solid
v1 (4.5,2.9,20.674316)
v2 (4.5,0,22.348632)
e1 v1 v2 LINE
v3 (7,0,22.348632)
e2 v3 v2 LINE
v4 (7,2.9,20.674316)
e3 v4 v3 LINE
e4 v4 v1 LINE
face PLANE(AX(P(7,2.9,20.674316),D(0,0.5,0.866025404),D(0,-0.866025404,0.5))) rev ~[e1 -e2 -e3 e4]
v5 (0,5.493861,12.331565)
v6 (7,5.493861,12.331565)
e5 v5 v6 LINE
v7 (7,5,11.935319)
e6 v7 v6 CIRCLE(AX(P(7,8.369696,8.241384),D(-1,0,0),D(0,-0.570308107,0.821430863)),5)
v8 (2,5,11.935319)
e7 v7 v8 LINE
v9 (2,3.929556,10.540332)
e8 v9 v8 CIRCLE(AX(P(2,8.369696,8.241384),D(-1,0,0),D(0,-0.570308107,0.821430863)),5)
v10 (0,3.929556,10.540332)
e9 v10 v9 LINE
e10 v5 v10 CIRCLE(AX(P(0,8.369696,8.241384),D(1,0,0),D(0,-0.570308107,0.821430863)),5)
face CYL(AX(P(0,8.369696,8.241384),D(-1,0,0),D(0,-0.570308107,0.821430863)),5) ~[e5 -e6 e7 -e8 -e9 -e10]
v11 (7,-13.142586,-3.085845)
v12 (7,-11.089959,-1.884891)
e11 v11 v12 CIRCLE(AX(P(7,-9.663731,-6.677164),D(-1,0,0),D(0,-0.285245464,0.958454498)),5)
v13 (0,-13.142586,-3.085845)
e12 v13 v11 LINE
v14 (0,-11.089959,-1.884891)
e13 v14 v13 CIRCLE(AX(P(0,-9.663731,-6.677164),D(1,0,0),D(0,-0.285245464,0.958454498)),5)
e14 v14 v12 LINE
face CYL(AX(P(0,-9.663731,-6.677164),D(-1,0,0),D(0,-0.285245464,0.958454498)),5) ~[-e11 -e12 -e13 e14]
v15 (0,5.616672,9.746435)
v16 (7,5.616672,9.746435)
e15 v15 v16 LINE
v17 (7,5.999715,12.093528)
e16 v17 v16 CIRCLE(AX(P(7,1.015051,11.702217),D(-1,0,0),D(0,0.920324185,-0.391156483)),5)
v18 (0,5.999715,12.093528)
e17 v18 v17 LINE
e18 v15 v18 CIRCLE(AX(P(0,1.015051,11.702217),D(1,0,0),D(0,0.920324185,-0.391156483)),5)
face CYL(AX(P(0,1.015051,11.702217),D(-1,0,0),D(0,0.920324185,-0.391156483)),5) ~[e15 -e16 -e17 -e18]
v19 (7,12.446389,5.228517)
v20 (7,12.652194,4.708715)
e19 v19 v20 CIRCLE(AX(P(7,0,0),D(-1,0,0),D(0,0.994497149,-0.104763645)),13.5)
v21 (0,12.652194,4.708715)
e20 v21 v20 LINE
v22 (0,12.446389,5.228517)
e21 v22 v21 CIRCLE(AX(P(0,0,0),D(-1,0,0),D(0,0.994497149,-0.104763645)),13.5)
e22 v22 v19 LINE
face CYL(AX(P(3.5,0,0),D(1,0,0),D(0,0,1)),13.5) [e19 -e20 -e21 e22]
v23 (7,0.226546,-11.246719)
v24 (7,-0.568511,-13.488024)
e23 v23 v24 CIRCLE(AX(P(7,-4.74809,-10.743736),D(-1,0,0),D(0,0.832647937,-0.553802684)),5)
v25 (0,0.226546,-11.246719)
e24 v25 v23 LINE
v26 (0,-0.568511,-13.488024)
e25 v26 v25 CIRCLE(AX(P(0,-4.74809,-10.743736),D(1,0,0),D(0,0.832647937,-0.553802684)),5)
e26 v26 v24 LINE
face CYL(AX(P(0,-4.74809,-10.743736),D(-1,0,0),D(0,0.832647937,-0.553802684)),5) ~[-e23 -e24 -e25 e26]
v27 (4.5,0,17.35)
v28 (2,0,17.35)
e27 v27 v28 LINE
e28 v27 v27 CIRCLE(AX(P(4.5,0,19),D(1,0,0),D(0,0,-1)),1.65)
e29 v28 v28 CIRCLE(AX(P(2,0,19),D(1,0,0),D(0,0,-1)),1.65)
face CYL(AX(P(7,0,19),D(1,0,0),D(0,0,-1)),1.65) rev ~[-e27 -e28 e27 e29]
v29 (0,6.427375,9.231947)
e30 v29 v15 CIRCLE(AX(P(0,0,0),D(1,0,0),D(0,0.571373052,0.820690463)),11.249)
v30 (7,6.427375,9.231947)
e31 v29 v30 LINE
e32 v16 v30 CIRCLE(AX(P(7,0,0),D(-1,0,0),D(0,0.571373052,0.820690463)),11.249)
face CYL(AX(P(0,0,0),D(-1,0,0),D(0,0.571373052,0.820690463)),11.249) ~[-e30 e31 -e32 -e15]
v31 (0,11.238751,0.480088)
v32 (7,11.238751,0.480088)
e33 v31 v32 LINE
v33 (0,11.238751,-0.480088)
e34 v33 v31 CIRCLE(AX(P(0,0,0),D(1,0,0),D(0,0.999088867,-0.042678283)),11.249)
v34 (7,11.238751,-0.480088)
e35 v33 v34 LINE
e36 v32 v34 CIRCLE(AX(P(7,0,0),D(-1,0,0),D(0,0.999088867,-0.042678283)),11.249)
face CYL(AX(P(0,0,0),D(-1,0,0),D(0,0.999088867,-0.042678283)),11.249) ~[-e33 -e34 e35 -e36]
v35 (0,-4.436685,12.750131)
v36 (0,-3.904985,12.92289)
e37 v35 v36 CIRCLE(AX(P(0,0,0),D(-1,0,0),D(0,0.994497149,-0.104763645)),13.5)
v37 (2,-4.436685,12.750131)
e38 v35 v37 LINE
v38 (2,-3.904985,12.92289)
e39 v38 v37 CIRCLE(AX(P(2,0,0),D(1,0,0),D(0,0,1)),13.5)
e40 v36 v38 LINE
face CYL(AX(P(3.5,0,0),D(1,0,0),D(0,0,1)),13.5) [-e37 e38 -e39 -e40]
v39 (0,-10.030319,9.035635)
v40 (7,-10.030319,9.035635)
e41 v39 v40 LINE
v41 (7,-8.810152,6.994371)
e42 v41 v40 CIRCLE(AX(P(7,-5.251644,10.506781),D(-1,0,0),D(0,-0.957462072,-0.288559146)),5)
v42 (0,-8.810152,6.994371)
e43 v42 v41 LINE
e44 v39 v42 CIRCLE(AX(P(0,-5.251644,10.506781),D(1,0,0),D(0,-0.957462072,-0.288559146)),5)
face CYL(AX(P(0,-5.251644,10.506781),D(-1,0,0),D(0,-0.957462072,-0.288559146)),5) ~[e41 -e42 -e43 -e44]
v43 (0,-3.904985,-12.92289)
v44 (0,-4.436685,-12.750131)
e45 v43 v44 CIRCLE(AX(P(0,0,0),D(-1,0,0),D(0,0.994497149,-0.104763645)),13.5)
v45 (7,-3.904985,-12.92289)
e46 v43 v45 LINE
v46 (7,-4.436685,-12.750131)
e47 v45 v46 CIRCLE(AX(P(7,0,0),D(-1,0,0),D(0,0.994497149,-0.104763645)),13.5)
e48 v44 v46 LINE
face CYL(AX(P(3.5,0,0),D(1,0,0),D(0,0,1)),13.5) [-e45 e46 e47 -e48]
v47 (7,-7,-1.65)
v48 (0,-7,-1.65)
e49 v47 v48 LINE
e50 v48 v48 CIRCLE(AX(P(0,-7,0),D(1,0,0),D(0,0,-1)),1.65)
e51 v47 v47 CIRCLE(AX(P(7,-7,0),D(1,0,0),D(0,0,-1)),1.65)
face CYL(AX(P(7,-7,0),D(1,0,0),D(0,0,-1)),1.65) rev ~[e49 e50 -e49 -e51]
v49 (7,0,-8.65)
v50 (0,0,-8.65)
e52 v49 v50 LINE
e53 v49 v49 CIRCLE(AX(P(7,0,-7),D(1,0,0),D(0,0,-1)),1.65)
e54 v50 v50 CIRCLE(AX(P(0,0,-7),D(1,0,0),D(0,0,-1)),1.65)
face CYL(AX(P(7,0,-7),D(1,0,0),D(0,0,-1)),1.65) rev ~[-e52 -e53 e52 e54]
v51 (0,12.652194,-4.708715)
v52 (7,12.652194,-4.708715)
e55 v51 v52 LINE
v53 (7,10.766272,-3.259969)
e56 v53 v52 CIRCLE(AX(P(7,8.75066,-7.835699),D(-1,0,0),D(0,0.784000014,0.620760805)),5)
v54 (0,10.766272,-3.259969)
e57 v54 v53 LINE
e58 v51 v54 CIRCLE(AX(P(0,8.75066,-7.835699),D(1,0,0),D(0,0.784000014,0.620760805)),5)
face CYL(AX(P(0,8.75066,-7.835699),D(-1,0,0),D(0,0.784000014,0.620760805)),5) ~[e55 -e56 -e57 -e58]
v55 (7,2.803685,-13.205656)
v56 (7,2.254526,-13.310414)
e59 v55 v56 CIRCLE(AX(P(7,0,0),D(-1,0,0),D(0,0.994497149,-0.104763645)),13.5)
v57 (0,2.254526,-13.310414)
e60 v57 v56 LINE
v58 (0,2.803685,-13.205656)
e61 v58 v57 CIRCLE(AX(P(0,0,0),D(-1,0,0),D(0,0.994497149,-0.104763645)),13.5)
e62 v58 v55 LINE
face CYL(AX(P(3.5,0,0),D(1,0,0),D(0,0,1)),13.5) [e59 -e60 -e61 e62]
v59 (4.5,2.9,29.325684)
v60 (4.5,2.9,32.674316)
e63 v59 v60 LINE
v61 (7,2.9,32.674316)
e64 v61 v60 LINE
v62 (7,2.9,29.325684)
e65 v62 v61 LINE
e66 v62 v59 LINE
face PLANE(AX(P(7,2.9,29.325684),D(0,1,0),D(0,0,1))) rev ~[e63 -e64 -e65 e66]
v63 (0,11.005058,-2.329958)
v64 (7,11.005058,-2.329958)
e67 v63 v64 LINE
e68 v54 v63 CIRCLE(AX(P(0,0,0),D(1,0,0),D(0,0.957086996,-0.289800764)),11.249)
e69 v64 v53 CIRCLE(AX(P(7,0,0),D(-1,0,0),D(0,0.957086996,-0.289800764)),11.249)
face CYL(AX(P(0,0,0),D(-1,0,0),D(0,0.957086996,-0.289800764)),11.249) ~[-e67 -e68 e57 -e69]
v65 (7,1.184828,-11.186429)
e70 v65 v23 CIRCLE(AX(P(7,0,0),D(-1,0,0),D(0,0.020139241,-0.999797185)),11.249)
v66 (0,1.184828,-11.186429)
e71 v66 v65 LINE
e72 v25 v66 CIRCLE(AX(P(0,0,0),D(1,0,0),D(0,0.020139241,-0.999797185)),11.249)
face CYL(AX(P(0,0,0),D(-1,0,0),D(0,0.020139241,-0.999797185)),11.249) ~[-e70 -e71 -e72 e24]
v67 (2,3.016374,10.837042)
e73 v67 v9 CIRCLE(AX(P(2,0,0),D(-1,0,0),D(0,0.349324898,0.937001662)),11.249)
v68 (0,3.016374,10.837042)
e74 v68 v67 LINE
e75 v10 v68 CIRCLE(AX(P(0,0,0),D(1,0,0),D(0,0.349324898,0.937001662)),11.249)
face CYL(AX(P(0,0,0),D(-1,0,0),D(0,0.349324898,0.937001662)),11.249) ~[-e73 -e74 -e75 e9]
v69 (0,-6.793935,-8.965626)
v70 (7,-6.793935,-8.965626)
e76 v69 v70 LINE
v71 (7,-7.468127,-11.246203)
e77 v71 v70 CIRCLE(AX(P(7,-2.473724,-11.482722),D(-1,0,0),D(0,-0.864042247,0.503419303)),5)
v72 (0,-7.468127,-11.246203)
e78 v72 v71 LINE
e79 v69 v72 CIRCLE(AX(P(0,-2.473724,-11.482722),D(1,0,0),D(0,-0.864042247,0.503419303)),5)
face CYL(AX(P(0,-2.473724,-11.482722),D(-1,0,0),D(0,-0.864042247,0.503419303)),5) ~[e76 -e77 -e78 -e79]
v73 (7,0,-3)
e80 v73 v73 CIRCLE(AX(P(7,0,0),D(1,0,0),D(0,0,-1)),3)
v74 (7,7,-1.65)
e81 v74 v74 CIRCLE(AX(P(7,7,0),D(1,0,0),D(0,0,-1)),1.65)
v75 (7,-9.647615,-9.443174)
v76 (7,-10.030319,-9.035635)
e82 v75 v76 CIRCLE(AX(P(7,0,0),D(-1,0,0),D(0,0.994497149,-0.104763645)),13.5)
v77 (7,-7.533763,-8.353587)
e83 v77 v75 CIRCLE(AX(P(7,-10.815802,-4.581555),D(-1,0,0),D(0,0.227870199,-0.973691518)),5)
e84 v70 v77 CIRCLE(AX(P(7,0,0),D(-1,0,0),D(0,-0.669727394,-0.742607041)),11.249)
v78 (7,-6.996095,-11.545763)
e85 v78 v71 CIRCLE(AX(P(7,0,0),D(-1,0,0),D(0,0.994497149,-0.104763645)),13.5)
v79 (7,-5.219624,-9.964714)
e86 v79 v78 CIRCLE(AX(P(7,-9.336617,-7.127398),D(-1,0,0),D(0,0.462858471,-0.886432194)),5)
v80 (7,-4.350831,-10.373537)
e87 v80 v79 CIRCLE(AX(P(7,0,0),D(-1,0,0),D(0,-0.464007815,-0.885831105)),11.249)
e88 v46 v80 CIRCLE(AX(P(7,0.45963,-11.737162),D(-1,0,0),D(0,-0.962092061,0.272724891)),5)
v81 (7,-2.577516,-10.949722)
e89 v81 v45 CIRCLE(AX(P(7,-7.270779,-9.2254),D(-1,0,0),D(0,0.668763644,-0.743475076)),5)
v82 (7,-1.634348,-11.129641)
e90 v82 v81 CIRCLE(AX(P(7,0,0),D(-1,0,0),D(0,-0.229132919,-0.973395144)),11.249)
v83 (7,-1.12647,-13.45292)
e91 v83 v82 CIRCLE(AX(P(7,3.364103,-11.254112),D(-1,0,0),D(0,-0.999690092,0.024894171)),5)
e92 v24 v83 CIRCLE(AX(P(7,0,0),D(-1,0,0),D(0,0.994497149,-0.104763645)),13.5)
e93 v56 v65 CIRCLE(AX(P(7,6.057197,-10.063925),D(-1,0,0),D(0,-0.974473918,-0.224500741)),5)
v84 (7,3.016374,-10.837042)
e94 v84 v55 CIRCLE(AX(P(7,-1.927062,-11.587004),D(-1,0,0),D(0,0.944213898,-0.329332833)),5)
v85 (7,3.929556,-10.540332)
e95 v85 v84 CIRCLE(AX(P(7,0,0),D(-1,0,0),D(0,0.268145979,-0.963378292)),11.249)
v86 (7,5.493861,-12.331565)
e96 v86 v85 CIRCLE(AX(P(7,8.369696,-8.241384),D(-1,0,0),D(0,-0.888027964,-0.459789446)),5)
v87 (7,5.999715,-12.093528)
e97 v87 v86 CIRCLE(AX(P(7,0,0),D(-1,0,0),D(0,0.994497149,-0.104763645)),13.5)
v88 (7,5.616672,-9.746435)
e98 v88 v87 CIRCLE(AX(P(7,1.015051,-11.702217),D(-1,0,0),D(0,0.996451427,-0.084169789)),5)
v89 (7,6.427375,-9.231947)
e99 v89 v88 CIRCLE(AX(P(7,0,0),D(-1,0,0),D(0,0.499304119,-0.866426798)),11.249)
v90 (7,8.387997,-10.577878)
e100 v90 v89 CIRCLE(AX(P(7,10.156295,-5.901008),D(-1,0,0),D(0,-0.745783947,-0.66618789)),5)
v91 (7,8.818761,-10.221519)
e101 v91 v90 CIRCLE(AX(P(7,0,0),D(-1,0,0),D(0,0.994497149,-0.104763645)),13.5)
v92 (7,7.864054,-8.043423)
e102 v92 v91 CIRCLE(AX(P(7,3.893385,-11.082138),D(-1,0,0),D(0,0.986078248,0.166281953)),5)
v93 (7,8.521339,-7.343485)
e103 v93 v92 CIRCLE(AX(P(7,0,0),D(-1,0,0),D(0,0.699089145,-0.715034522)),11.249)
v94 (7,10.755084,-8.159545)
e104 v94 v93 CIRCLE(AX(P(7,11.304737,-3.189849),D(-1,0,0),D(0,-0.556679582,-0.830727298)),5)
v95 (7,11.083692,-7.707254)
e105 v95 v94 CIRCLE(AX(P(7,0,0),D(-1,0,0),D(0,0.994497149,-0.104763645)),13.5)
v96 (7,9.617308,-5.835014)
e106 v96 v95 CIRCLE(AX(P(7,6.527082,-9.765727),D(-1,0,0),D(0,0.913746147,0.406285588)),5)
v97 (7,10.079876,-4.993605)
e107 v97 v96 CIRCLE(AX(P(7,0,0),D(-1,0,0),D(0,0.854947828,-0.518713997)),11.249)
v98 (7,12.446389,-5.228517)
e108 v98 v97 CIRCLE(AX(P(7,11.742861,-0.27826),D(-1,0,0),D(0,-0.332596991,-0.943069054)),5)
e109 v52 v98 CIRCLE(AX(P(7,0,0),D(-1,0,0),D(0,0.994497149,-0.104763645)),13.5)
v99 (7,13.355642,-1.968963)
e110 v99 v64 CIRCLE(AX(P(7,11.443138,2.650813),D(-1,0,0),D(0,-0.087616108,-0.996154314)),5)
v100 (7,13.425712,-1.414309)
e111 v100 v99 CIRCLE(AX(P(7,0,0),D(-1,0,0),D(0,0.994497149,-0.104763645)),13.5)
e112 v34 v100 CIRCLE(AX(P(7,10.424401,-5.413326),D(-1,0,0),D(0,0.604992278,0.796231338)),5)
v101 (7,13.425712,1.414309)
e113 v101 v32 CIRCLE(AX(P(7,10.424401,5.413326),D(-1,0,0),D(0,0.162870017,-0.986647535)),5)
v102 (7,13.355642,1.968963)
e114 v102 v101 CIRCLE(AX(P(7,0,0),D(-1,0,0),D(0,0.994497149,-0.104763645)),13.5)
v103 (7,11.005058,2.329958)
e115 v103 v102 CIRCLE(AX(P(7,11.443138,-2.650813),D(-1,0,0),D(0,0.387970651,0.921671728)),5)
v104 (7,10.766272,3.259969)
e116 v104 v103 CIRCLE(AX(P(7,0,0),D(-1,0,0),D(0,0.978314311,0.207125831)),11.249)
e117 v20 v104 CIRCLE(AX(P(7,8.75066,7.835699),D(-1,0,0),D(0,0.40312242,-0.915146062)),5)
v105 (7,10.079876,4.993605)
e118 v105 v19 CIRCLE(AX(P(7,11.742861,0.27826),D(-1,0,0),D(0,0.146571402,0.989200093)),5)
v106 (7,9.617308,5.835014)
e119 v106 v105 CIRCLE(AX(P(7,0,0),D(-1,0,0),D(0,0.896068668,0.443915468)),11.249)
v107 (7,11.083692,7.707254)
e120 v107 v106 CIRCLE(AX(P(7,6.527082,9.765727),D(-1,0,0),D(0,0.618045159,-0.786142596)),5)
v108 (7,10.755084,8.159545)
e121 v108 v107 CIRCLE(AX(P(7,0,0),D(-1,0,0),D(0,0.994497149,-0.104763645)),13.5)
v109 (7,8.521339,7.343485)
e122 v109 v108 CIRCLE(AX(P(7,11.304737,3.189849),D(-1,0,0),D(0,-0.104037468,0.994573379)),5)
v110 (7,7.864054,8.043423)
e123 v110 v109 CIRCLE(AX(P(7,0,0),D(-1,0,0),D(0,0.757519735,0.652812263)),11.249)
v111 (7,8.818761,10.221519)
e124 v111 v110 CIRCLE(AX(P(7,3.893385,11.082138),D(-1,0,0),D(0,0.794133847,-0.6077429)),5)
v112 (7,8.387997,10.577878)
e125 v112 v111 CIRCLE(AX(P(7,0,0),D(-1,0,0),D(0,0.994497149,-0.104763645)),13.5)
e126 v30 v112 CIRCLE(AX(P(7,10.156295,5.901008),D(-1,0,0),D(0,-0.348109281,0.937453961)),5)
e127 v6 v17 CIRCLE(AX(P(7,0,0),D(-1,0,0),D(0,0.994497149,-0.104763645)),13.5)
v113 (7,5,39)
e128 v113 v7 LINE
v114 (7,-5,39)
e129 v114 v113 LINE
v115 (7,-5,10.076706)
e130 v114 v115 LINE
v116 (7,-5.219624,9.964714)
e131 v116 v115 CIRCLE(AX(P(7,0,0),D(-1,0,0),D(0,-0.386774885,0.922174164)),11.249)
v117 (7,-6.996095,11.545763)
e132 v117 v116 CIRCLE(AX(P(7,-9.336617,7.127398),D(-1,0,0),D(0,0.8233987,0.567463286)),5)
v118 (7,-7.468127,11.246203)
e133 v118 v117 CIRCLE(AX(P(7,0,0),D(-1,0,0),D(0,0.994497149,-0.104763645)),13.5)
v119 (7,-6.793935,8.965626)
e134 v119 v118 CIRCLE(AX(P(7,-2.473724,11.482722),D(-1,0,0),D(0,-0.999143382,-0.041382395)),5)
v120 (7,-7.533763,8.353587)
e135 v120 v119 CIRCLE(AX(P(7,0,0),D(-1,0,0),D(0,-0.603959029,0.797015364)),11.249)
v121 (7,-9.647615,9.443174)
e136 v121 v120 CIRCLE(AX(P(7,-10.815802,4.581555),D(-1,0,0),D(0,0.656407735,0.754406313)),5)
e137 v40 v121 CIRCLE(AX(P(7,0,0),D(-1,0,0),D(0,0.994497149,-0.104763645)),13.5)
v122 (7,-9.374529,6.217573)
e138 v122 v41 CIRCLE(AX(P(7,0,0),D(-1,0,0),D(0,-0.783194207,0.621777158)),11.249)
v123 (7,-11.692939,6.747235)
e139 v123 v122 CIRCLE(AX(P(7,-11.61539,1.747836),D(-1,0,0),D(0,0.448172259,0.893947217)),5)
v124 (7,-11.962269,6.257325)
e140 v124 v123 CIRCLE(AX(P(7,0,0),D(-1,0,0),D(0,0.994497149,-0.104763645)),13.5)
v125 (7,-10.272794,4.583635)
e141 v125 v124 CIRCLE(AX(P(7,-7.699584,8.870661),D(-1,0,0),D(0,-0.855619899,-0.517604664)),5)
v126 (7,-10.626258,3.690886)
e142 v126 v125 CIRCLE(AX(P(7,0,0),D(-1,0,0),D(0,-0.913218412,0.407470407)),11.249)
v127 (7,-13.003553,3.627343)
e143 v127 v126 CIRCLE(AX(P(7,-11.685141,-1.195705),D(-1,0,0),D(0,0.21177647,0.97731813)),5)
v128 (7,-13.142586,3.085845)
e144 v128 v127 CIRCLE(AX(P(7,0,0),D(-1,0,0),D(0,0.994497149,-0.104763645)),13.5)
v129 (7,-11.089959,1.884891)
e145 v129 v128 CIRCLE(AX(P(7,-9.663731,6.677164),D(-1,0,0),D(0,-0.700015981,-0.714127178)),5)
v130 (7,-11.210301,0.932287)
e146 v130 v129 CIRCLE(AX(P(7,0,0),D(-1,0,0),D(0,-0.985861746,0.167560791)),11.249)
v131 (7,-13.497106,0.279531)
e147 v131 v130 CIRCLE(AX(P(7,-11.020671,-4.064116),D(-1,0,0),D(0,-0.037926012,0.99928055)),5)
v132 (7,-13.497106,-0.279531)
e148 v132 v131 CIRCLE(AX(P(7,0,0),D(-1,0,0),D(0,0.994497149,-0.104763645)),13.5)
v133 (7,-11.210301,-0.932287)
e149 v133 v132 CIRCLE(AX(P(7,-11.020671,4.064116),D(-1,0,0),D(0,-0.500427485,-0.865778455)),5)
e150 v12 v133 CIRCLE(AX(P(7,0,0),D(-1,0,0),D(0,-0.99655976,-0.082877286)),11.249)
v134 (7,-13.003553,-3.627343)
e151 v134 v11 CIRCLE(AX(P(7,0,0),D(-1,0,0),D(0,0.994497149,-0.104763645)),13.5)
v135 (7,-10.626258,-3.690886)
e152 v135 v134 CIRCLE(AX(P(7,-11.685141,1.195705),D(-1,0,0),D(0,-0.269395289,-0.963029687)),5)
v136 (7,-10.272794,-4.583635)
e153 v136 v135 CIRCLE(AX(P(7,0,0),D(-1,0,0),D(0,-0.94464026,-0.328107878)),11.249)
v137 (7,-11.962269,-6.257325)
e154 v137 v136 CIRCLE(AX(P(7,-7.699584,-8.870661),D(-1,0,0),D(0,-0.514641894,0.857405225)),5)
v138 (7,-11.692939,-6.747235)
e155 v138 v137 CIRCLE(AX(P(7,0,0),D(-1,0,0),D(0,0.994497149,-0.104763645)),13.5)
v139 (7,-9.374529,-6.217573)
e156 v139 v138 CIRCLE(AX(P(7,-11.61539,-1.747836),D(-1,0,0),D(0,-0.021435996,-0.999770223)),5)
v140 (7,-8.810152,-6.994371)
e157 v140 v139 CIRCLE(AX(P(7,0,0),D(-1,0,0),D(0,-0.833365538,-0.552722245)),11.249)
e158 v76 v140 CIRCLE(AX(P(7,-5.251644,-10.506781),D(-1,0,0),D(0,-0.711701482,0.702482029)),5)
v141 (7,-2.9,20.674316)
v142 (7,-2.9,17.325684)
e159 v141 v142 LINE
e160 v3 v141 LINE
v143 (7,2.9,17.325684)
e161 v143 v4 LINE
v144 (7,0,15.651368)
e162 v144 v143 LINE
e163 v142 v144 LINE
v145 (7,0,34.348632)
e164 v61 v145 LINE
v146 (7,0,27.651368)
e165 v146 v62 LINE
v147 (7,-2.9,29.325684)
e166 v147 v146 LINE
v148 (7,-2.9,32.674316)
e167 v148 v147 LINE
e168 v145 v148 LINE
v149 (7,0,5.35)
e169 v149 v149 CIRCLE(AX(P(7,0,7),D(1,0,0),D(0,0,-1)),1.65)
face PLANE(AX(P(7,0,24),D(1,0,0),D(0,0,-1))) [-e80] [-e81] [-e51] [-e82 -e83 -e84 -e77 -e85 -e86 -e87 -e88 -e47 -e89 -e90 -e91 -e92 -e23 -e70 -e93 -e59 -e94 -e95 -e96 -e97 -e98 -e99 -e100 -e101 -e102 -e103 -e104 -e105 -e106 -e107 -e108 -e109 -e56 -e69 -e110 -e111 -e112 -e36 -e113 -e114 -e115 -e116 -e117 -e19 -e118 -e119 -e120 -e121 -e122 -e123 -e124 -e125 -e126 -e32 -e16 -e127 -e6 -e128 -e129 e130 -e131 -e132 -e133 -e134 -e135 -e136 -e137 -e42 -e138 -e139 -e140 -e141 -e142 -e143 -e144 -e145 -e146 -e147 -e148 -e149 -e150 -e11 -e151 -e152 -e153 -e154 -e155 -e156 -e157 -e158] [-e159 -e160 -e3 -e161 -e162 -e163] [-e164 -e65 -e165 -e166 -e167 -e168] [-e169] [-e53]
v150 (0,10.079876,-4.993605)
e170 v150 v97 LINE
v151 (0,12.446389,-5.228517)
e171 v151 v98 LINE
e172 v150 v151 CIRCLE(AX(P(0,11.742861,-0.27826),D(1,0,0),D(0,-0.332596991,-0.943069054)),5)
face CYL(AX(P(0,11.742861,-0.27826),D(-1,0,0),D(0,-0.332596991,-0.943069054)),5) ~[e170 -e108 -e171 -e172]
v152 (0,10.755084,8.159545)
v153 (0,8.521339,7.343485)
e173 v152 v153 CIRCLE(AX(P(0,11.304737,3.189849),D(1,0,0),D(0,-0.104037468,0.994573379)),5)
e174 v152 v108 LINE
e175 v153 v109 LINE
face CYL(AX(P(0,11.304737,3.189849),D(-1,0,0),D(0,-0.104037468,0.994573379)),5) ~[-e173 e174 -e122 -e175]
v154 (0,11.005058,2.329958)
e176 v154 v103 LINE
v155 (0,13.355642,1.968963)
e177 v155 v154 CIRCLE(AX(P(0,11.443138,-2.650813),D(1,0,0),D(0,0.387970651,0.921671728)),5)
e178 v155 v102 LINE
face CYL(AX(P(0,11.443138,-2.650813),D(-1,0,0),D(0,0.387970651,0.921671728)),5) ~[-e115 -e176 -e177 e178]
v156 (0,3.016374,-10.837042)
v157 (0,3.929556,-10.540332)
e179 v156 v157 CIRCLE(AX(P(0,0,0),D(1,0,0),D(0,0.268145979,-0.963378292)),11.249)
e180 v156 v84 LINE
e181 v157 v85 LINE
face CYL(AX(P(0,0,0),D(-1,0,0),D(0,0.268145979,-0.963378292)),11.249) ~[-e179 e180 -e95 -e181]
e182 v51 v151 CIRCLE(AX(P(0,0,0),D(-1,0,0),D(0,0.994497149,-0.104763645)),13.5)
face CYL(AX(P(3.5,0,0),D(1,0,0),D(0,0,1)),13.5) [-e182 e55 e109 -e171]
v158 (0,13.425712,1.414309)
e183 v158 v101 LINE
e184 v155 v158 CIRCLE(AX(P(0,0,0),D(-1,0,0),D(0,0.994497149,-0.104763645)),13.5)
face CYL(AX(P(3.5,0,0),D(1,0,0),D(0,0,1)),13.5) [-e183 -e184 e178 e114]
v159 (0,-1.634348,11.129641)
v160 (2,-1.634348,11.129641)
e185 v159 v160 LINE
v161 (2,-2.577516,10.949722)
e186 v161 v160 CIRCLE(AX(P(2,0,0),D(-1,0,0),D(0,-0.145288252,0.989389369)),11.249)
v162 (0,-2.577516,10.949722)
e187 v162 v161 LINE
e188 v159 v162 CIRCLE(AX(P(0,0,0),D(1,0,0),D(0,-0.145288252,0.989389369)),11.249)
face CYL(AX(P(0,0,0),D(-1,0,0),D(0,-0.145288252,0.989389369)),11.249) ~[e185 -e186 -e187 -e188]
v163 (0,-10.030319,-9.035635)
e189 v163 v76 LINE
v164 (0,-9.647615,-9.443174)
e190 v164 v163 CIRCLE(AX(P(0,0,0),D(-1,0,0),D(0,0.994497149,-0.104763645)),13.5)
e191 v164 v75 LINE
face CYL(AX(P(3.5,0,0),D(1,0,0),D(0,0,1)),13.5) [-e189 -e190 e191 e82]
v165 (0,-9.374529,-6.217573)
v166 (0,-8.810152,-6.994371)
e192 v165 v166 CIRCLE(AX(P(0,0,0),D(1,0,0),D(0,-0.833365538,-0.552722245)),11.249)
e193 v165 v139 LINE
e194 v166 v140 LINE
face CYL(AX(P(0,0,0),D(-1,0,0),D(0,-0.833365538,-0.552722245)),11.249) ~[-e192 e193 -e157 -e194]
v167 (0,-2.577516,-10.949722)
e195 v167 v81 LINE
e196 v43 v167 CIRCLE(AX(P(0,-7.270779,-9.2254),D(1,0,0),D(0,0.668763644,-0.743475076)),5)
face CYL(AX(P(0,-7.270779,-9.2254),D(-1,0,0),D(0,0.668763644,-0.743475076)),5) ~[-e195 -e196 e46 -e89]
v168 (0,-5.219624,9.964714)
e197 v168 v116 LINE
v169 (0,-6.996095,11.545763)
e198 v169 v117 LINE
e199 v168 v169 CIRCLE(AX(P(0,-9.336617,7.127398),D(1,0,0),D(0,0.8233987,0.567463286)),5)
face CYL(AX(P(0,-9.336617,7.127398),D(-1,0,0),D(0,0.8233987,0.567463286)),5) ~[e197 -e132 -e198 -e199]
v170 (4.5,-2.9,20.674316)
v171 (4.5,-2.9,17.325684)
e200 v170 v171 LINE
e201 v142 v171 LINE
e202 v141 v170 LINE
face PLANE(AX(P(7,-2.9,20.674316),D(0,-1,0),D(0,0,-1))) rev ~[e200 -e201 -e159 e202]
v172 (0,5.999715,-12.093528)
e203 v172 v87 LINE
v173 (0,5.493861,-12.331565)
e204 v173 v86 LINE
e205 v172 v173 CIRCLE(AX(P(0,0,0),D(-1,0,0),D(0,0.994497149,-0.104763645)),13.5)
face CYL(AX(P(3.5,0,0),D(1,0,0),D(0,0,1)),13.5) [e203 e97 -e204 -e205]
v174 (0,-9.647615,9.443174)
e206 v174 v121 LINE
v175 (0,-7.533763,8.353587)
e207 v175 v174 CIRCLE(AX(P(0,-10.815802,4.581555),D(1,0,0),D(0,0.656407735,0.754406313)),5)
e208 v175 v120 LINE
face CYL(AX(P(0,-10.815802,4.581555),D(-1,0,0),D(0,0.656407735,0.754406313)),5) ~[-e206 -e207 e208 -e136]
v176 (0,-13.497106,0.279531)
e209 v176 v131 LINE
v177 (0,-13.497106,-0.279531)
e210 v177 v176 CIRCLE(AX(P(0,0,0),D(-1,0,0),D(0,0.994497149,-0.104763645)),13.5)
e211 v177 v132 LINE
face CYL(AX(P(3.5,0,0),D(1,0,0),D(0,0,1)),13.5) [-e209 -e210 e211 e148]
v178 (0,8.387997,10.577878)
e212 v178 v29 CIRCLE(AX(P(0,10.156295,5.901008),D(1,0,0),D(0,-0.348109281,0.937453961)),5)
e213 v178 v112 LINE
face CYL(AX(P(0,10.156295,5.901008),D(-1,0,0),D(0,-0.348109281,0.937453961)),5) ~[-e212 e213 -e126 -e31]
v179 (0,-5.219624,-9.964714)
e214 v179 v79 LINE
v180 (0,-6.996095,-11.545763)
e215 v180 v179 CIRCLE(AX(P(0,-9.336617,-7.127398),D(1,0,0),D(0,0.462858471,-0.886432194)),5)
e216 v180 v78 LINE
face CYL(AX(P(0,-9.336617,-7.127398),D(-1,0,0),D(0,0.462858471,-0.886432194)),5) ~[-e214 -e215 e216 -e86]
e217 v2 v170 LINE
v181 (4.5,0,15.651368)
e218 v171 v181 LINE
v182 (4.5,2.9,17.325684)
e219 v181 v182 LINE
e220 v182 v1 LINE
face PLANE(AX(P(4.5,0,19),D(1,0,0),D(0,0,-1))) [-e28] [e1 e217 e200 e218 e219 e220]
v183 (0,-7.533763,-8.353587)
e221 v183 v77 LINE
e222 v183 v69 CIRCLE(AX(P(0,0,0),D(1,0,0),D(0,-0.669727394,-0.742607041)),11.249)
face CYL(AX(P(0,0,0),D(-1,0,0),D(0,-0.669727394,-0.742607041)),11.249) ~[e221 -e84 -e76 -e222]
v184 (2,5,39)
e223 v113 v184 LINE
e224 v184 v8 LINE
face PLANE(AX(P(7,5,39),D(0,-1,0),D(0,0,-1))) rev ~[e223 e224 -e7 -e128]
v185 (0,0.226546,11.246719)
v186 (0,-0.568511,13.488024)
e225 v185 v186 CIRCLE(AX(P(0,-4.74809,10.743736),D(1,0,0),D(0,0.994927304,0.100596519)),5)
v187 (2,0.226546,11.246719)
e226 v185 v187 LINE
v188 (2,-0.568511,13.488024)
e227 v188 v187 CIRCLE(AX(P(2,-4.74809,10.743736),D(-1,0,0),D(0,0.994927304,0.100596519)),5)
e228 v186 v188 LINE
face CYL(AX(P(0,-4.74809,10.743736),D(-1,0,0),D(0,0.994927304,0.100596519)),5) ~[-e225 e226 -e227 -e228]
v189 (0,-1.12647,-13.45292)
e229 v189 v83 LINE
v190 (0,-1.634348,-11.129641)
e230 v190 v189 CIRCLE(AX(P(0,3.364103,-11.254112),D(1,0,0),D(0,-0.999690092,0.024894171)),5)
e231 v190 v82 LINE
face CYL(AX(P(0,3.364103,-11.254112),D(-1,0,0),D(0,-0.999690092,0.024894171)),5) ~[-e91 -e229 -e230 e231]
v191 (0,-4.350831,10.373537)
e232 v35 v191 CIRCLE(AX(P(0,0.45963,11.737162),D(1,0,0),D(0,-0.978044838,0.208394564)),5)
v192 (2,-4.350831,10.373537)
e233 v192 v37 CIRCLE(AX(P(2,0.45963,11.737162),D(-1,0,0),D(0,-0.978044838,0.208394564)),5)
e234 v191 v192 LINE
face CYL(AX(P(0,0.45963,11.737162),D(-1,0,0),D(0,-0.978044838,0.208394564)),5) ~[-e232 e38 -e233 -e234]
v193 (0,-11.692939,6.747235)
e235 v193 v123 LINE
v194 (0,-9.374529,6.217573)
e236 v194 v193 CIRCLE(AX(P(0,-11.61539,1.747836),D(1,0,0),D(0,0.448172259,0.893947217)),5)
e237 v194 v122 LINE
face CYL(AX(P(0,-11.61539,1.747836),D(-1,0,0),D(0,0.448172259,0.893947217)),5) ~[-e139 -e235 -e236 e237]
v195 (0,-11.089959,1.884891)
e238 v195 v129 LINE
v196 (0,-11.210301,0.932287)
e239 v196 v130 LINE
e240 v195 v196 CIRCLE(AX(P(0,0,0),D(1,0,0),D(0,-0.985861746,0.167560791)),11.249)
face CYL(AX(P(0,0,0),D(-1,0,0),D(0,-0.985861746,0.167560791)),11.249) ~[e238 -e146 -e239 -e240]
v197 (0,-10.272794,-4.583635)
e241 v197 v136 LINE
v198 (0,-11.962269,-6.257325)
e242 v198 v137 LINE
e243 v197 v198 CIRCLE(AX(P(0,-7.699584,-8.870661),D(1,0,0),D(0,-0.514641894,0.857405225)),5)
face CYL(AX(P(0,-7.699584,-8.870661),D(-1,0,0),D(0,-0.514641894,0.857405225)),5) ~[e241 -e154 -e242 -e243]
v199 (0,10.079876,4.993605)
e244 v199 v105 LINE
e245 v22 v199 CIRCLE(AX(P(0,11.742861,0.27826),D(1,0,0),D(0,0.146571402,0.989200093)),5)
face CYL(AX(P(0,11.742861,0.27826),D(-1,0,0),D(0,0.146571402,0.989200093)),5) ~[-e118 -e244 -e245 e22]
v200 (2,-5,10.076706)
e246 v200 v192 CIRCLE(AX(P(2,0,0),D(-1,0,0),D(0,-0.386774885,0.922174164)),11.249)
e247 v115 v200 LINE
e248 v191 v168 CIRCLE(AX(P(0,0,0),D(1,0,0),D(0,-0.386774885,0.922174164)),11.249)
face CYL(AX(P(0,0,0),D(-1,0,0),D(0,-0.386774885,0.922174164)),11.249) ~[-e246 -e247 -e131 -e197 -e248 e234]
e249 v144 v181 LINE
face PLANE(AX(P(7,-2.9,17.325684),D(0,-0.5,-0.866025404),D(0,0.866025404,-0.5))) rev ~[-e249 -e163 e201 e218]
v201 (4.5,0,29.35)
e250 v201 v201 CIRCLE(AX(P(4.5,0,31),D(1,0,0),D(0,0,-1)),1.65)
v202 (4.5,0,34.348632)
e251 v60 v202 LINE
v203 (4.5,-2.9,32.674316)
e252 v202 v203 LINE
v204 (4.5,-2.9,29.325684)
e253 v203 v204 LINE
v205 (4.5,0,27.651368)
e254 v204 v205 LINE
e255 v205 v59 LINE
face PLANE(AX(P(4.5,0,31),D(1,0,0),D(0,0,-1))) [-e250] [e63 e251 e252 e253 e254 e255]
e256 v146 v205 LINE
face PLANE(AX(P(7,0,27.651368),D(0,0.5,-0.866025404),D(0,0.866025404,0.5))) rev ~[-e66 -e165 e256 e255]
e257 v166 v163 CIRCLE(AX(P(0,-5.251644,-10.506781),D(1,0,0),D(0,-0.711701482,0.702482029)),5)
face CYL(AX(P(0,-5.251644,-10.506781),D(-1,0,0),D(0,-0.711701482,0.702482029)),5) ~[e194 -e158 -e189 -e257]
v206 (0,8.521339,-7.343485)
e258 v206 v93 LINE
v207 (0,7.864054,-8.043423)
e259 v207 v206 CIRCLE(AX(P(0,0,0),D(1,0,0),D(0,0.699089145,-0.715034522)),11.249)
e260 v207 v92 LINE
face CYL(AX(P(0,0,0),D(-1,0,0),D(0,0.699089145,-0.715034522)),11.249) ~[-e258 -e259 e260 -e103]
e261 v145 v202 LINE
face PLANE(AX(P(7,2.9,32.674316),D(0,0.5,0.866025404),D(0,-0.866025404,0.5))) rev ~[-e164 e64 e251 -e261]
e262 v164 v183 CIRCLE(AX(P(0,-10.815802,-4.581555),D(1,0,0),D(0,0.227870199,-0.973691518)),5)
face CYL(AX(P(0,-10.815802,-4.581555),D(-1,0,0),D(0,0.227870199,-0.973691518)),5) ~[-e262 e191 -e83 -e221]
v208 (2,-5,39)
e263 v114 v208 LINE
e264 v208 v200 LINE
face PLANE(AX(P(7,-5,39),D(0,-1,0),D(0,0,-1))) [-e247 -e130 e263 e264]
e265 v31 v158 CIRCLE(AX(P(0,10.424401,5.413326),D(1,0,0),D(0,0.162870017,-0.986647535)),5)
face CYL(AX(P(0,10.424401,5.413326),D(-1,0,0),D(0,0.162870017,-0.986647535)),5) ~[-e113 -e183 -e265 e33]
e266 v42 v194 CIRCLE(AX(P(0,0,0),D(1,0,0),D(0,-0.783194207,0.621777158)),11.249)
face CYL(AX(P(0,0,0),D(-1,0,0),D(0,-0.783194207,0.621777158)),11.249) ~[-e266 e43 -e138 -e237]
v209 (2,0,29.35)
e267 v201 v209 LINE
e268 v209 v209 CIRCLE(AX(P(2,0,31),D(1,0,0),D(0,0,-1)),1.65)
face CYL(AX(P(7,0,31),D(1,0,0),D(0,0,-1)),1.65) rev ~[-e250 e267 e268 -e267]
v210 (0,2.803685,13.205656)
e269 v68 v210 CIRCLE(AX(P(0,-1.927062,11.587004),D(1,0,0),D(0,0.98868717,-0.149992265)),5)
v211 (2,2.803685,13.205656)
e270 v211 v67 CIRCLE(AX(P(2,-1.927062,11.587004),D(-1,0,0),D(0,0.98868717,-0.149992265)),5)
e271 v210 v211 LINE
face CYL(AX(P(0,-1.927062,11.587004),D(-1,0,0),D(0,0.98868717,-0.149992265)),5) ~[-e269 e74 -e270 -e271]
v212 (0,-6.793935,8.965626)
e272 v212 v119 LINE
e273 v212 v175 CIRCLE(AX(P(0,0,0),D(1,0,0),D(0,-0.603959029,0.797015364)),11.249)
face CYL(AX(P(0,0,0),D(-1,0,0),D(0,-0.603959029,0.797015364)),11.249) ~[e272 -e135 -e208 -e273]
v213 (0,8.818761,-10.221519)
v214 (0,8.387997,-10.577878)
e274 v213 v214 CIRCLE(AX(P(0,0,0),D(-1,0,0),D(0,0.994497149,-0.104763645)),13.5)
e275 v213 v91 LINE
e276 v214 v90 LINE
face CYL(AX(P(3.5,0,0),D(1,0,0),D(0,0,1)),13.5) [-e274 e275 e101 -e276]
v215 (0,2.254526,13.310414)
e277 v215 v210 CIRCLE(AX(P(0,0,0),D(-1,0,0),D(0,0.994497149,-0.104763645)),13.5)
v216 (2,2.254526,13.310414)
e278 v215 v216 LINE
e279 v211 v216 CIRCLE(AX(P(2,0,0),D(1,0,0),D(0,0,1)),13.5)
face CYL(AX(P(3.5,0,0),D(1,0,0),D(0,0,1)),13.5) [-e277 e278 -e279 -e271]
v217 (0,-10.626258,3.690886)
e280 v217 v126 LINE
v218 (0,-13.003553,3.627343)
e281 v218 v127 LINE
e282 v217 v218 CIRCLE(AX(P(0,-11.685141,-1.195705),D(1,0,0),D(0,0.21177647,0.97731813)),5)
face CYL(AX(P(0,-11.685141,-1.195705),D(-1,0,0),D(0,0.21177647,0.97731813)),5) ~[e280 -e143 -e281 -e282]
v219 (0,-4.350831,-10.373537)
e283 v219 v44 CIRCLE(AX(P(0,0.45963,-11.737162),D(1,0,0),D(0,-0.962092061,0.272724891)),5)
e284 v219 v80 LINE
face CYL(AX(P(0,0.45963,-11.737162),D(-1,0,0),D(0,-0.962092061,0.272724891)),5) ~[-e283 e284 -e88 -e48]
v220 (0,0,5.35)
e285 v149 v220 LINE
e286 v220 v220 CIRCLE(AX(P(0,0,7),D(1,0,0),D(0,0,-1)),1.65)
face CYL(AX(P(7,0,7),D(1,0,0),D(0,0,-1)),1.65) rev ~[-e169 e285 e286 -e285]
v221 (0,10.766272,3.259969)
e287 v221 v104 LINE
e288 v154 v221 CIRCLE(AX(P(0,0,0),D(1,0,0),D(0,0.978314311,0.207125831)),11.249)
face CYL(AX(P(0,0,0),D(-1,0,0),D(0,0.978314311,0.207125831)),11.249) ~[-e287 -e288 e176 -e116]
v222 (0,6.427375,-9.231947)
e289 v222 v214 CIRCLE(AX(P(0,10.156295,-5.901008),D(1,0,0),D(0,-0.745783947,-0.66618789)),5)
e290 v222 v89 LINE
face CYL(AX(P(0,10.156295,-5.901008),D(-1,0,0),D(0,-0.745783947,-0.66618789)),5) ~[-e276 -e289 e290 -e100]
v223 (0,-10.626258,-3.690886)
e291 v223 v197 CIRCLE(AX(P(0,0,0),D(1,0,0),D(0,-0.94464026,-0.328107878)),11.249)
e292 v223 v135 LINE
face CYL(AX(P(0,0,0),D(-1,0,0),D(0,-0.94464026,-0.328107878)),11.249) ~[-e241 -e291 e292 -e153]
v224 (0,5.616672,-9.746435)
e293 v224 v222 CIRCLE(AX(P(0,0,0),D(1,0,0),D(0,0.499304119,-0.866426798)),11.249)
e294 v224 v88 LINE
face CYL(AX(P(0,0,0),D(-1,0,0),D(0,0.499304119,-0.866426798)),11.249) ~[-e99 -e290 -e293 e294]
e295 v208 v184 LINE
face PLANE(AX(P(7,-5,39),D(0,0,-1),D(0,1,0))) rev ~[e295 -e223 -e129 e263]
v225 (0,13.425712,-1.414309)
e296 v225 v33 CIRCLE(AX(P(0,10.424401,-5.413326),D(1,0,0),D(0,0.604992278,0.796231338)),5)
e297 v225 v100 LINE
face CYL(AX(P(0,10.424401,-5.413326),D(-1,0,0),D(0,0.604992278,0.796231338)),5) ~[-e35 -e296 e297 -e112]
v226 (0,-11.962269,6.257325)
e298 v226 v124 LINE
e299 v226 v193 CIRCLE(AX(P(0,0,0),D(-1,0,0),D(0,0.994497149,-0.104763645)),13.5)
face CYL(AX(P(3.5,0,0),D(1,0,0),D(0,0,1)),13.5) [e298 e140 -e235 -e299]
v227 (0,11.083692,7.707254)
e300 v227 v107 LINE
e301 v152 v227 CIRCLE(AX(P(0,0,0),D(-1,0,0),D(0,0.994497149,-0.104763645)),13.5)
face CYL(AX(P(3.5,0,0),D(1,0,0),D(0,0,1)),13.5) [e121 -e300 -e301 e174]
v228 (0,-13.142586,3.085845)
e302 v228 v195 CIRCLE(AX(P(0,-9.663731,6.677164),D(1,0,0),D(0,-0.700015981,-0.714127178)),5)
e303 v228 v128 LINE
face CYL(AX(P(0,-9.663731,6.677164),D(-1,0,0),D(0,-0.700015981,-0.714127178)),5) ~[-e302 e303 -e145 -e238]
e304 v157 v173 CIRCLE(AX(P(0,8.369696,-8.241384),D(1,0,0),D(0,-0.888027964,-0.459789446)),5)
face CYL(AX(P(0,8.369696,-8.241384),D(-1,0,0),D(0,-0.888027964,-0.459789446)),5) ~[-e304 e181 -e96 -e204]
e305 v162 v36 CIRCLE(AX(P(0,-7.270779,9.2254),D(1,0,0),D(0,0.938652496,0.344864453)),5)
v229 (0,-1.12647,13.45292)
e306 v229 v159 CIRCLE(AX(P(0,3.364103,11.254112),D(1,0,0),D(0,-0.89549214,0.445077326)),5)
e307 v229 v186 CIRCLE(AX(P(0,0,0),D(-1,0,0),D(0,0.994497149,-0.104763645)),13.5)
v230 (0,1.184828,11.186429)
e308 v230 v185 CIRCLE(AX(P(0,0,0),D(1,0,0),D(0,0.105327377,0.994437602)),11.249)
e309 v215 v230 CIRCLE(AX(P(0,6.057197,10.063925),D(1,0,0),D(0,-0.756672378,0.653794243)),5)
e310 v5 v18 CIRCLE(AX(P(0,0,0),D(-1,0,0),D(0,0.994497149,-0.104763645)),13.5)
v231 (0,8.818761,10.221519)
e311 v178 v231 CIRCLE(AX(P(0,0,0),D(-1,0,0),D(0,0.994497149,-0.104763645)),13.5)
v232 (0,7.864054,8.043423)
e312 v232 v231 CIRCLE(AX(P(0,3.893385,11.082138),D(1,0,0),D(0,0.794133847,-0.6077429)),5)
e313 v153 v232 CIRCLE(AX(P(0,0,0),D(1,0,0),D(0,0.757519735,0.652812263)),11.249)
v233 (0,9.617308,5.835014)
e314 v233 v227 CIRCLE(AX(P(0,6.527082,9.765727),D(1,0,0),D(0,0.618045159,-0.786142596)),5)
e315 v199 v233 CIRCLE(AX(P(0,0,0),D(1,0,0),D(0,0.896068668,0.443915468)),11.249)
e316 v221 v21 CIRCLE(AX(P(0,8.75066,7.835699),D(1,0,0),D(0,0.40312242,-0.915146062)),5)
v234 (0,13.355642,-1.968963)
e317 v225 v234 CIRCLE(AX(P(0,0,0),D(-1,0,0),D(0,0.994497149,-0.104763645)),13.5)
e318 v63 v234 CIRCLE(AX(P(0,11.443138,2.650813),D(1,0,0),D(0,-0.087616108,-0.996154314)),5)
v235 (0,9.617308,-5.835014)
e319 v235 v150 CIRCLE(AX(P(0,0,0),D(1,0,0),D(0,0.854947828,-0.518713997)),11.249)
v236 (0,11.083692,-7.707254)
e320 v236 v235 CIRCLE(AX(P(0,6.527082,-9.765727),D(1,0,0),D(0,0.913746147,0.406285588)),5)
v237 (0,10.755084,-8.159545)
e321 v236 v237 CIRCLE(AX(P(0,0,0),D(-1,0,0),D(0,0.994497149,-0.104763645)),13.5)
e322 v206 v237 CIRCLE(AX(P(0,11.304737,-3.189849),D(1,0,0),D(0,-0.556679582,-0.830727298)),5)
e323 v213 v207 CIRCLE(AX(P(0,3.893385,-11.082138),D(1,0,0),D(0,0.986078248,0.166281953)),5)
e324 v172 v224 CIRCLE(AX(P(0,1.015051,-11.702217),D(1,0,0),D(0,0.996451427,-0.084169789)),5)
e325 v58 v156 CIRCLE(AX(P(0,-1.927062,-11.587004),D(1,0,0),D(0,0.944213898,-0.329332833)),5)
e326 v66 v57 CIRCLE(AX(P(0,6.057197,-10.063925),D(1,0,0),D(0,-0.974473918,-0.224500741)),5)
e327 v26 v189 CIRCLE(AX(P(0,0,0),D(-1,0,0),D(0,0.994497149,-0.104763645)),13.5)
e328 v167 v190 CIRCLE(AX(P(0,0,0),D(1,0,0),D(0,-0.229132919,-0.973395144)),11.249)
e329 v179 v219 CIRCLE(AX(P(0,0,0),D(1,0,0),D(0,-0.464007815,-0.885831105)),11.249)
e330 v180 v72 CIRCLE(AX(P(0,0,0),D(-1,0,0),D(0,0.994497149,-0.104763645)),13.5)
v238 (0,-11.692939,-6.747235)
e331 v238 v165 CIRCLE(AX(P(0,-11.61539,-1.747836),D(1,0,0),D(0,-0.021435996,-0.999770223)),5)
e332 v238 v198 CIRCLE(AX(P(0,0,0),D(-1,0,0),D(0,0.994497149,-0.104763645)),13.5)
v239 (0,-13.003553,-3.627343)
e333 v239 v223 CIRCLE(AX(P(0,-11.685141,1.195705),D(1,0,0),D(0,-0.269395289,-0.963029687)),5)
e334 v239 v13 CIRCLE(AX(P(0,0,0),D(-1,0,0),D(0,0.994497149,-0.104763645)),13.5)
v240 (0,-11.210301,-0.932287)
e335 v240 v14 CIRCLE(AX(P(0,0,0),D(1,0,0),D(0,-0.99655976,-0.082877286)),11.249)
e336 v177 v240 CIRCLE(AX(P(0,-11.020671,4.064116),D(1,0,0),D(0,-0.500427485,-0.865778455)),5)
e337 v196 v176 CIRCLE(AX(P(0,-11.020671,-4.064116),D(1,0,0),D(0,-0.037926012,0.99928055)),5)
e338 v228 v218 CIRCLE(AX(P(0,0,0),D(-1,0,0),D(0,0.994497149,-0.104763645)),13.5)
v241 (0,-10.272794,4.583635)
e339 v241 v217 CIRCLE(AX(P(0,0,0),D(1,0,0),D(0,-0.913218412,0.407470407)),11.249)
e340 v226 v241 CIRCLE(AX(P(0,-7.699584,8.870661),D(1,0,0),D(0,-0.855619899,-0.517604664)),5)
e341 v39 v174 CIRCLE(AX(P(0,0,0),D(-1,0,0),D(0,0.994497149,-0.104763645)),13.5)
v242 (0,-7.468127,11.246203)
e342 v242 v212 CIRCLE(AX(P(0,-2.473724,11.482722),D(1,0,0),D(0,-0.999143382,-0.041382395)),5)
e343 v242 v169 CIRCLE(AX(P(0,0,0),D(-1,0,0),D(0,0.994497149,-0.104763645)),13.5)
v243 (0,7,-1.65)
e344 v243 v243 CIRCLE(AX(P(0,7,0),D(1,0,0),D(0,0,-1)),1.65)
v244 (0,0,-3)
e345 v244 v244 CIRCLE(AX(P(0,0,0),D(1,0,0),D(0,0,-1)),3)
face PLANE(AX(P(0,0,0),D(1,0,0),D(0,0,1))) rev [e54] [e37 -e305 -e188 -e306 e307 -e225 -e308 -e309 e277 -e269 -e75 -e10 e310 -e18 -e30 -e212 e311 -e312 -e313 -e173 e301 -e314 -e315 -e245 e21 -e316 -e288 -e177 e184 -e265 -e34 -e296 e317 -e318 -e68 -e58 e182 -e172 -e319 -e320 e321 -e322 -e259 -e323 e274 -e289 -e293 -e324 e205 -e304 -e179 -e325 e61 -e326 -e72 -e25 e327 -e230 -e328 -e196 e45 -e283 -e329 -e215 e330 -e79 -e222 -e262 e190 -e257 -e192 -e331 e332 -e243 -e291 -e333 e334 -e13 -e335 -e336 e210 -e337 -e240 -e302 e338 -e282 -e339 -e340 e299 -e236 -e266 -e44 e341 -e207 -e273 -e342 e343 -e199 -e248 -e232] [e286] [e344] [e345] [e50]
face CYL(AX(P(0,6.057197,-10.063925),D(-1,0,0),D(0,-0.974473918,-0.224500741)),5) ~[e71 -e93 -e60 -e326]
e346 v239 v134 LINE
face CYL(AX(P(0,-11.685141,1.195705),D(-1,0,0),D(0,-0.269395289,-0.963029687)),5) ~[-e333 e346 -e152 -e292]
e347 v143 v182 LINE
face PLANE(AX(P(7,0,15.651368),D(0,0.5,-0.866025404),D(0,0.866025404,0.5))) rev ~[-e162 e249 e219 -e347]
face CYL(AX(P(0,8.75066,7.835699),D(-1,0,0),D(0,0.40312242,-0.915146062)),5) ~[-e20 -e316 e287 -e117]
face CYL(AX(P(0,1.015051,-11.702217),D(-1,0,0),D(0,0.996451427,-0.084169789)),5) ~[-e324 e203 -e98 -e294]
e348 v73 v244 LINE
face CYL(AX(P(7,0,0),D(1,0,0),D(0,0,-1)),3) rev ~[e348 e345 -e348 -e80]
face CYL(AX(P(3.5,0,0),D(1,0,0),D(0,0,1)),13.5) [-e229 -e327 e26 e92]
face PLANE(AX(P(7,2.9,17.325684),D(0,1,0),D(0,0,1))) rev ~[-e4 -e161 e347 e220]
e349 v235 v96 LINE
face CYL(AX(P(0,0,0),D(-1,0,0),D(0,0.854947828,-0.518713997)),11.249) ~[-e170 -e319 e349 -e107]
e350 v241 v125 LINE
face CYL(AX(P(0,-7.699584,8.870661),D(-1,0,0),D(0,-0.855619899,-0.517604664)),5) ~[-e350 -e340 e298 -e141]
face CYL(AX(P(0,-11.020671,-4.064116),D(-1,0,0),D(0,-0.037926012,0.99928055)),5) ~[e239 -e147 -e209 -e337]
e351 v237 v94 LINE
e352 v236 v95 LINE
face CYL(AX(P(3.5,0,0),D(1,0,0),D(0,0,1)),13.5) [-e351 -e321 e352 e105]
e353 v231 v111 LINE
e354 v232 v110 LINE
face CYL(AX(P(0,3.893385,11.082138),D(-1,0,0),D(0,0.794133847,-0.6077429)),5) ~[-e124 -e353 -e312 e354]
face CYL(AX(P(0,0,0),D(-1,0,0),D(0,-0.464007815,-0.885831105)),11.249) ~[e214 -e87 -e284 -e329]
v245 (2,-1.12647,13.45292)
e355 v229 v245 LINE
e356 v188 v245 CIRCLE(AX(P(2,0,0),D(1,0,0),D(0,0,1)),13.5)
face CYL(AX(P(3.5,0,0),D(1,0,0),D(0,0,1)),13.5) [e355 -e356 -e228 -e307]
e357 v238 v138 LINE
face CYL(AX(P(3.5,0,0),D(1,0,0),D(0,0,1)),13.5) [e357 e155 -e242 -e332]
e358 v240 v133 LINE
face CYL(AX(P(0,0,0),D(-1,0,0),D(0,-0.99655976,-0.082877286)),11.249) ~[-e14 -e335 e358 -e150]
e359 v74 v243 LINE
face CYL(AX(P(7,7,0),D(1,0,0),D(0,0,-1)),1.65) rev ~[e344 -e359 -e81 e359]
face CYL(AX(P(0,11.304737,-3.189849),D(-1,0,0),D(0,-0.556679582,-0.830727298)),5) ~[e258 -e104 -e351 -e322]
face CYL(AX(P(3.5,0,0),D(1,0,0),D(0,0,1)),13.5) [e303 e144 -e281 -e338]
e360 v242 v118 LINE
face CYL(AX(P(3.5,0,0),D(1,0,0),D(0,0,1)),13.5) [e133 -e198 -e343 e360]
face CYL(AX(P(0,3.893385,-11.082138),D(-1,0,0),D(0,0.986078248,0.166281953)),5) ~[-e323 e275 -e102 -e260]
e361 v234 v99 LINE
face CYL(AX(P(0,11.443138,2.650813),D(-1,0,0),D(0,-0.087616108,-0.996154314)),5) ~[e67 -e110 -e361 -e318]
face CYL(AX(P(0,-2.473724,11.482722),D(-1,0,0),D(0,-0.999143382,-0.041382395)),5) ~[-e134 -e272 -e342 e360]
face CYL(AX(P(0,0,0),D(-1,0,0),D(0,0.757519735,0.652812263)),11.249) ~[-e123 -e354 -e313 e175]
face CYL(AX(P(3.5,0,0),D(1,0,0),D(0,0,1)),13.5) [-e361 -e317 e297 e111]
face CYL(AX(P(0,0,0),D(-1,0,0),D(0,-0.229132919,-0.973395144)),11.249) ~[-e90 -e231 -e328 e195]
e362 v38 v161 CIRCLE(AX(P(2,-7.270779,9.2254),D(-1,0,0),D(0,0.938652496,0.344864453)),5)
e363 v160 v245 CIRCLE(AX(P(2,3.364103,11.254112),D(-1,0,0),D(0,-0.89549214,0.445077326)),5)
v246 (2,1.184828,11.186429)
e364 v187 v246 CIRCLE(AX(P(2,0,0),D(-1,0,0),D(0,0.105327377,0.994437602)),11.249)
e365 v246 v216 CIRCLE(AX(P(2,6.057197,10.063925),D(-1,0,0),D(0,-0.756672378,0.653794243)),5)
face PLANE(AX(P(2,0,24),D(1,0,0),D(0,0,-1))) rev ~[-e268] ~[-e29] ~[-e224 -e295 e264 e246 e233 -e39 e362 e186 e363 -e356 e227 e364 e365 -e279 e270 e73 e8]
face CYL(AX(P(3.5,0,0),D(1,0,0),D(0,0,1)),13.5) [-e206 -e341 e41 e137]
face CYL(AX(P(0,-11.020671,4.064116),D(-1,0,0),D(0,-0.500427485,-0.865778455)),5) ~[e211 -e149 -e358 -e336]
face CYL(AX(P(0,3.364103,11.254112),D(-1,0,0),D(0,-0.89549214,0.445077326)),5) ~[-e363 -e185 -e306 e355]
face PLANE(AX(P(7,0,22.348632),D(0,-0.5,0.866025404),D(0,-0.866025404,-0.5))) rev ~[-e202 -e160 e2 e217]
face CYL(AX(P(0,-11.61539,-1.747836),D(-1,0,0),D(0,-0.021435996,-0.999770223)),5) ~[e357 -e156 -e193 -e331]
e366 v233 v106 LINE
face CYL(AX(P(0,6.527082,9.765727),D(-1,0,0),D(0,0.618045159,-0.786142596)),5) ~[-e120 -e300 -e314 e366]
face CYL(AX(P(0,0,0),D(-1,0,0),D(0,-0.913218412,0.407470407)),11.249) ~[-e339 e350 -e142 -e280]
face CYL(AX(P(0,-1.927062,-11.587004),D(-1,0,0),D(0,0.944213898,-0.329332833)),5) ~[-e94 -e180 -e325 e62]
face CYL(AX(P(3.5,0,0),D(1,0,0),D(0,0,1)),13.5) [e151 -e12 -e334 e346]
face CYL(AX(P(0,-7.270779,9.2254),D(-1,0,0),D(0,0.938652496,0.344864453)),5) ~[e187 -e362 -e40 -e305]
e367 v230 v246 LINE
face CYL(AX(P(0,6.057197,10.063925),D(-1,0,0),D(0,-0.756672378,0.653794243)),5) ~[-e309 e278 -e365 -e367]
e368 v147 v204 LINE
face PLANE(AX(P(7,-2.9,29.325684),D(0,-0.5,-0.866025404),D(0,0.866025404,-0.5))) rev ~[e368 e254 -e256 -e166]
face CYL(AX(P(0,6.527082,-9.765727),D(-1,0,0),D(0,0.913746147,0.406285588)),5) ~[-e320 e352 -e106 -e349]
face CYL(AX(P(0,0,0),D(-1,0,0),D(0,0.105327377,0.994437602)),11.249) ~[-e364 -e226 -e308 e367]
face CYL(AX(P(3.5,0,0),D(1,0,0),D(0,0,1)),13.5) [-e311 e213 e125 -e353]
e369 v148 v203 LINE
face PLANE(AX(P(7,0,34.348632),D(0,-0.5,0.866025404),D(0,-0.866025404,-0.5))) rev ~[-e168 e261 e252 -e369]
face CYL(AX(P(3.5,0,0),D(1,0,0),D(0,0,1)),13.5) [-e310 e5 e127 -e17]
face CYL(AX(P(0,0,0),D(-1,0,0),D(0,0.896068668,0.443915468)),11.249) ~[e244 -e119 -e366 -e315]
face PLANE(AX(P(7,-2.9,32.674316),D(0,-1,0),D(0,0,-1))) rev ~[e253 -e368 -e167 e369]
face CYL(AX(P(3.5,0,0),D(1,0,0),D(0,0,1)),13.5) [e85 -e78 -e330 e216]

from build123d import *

# Parameters (mm, degrees)
BASPROSKE_W         = 7
BASPROSKE_H         = 13.5
TOOTHCUT_DEPTH      = 21.334699408
TEETHCUTS_COUNT     = 25
TEETHCUTS_ANGLE     = 345.6
BORSKE_R            = 0.4
BORE_DEPTH          = 50.0000508
SKETCH_1_R          = 3
SKETCH_1_R_2        = 1.65
CUT_EXTRUDE_1_DEPTH = 10
SKETCH_2_W          = 30
SKETCH_2_H          = 10
SKETCH_2_R          = 1.65
EXTRUDE_2_DEPTH     = 5
CUT_EXTRUDE_2_DEPTH = 2.5


with BuildPart() as part:
    # BasProSke → Base-Revolve (revolve)
    with BuildSketch(Plane(origin=(0, 0, 0), x_dir=(1, 0, 0), z_dir=(0, 1, 0)), mode=Mode.PRIVATE) as base_revolve_sk:
        with Locations((3.5, 6.75)):
            Rectangle(BASPROSKE_W, BASPROSKE_H)
    revolve(base_revolve_sk.sketch.rotate(Axis((-10, 0, 0), (1, 0, 0)), 180), axis=Axis((-10, 0, 0), (1, 0, 0)))

    # TooCutSke → ToothCut (cut, through all)
    with BuildSketch(Plane(origin=(0, 0, 0), x_dir=(0, 0, -1), z_dir=(1, 0, 0))):
        with BuildLine():
            ThreePointArc((0.480087995, 11.238750665), (0, 11.249), (-0.480087995, 11.238750665))
            ThreePointArc((-0.480087995, 11.238750665), (-0.821124963, 12.40220054), (-1.432168974, 13.449361962))
            ThreePointArc((-1.432168974, 13.449361962), (0, 13.5254), (1.432168974, 13.449361962))
            ThreePointArc((1.432168974, 13.449361962), (0.821124963, 12.40220054), (0.480087995, 11.238750665))
        make_face()
    toothcut = extrude(amount=TOOTHCUT_DEPTH, mode=Mode.SUBTRACT)

    # TeethCuts: ToothCut ×25 about axis
    teethcuts_axis = Axis((-10, 0, 0), (1, 0, 0))
    for i in range(1, TEETHCUTS_COUNT):
        add(toothcut.rotate(teethcuts_axis, i * TEETHCUTS_ANGLE / (TEETHCUTS_COUNT - 1)), mode=Mode.SUBTRACT)

    # BorSke → Bore (cut, symmetric)
    with BuildSketch(Plane(origin=(0, 0, 0), x_dir=(0, 0, -1), z_dir=(1, 0, 0))):
        with Locations(Location((0, 0, 0), (0, 0, 180))):
            Circle(BORSKE_R)
    extrude(amount=BORE_DEPTH, both=True, mode=Mode.SUBTRACT)

    # 草图1 → 切除-拉伸1 (cut)
    with BuildSketch(Plane(origin=(7, 0, 0), x_dir=(0, 0, -1), z_dir=(1, 0, 0))):
        Circle(SKETCH_1_R)
        with Locations((0, 7)):
            Circle(SKETCH_1_R_2)
        with Locations((7, 0)):
            Circle(SKETCH_1_R_2)
        with Locations((-7, 0)):
            Circle(SKETCH_1_R_2)
        with Locations((0, -7)):
            Circle(SKETCH_1_R_2)
    extrude(amount=-CUT_EXTRUDE_1_DEPTH, mode=Mode.SUBTRACT)

    # 草图2 → 凸台-拉伸2 (add)
    with BuildSketch(Plane(origin=(7, 0, 0), x_dir=(0, 0, -1), z_dir=(1, 0, 0))):
        with Locations((-24, 0)):
            Rectangle(SKETCH_2_W, SKETCH_2_H)
        with Locations((-31, 0)):
            Circle(SKETCH_2_R, mode=Mode.SUBTRACT)
        with Locations((-19, 0)):
            Circle(SKETCH_2_R, mode=Mode.SUBTRACT)
    extrude(amount=-EXTRUDE_2_DEPTH)

    # 草图3 → 切除-拉伸2 (cut)
    with BuildSketch(Plane(origin=(7, 0, 0), x_dir=(0, 0, -1), z_dir=(1, 0, 0))):
        Polygon((-15.651368439, 0), (-17.325684219, 2.9), (-20.674315781, 2.9), (-22.348631561, 0), (-20.674315781, -2.9), (-17.325684219, -2.9), align=None)
        Polygon((-27.651368439, 0), (-29.325684219, 2.9), (-32.674315781, 2.9), (-34.348631561, 0), (-32.674315781, -2.9), (-29.325684219, -2.9), align=None)
    extrude(amount=-CUT_EXTRUDE_2_DEPTH, mode=Mode.SUBTRACT)


solid = part.part
